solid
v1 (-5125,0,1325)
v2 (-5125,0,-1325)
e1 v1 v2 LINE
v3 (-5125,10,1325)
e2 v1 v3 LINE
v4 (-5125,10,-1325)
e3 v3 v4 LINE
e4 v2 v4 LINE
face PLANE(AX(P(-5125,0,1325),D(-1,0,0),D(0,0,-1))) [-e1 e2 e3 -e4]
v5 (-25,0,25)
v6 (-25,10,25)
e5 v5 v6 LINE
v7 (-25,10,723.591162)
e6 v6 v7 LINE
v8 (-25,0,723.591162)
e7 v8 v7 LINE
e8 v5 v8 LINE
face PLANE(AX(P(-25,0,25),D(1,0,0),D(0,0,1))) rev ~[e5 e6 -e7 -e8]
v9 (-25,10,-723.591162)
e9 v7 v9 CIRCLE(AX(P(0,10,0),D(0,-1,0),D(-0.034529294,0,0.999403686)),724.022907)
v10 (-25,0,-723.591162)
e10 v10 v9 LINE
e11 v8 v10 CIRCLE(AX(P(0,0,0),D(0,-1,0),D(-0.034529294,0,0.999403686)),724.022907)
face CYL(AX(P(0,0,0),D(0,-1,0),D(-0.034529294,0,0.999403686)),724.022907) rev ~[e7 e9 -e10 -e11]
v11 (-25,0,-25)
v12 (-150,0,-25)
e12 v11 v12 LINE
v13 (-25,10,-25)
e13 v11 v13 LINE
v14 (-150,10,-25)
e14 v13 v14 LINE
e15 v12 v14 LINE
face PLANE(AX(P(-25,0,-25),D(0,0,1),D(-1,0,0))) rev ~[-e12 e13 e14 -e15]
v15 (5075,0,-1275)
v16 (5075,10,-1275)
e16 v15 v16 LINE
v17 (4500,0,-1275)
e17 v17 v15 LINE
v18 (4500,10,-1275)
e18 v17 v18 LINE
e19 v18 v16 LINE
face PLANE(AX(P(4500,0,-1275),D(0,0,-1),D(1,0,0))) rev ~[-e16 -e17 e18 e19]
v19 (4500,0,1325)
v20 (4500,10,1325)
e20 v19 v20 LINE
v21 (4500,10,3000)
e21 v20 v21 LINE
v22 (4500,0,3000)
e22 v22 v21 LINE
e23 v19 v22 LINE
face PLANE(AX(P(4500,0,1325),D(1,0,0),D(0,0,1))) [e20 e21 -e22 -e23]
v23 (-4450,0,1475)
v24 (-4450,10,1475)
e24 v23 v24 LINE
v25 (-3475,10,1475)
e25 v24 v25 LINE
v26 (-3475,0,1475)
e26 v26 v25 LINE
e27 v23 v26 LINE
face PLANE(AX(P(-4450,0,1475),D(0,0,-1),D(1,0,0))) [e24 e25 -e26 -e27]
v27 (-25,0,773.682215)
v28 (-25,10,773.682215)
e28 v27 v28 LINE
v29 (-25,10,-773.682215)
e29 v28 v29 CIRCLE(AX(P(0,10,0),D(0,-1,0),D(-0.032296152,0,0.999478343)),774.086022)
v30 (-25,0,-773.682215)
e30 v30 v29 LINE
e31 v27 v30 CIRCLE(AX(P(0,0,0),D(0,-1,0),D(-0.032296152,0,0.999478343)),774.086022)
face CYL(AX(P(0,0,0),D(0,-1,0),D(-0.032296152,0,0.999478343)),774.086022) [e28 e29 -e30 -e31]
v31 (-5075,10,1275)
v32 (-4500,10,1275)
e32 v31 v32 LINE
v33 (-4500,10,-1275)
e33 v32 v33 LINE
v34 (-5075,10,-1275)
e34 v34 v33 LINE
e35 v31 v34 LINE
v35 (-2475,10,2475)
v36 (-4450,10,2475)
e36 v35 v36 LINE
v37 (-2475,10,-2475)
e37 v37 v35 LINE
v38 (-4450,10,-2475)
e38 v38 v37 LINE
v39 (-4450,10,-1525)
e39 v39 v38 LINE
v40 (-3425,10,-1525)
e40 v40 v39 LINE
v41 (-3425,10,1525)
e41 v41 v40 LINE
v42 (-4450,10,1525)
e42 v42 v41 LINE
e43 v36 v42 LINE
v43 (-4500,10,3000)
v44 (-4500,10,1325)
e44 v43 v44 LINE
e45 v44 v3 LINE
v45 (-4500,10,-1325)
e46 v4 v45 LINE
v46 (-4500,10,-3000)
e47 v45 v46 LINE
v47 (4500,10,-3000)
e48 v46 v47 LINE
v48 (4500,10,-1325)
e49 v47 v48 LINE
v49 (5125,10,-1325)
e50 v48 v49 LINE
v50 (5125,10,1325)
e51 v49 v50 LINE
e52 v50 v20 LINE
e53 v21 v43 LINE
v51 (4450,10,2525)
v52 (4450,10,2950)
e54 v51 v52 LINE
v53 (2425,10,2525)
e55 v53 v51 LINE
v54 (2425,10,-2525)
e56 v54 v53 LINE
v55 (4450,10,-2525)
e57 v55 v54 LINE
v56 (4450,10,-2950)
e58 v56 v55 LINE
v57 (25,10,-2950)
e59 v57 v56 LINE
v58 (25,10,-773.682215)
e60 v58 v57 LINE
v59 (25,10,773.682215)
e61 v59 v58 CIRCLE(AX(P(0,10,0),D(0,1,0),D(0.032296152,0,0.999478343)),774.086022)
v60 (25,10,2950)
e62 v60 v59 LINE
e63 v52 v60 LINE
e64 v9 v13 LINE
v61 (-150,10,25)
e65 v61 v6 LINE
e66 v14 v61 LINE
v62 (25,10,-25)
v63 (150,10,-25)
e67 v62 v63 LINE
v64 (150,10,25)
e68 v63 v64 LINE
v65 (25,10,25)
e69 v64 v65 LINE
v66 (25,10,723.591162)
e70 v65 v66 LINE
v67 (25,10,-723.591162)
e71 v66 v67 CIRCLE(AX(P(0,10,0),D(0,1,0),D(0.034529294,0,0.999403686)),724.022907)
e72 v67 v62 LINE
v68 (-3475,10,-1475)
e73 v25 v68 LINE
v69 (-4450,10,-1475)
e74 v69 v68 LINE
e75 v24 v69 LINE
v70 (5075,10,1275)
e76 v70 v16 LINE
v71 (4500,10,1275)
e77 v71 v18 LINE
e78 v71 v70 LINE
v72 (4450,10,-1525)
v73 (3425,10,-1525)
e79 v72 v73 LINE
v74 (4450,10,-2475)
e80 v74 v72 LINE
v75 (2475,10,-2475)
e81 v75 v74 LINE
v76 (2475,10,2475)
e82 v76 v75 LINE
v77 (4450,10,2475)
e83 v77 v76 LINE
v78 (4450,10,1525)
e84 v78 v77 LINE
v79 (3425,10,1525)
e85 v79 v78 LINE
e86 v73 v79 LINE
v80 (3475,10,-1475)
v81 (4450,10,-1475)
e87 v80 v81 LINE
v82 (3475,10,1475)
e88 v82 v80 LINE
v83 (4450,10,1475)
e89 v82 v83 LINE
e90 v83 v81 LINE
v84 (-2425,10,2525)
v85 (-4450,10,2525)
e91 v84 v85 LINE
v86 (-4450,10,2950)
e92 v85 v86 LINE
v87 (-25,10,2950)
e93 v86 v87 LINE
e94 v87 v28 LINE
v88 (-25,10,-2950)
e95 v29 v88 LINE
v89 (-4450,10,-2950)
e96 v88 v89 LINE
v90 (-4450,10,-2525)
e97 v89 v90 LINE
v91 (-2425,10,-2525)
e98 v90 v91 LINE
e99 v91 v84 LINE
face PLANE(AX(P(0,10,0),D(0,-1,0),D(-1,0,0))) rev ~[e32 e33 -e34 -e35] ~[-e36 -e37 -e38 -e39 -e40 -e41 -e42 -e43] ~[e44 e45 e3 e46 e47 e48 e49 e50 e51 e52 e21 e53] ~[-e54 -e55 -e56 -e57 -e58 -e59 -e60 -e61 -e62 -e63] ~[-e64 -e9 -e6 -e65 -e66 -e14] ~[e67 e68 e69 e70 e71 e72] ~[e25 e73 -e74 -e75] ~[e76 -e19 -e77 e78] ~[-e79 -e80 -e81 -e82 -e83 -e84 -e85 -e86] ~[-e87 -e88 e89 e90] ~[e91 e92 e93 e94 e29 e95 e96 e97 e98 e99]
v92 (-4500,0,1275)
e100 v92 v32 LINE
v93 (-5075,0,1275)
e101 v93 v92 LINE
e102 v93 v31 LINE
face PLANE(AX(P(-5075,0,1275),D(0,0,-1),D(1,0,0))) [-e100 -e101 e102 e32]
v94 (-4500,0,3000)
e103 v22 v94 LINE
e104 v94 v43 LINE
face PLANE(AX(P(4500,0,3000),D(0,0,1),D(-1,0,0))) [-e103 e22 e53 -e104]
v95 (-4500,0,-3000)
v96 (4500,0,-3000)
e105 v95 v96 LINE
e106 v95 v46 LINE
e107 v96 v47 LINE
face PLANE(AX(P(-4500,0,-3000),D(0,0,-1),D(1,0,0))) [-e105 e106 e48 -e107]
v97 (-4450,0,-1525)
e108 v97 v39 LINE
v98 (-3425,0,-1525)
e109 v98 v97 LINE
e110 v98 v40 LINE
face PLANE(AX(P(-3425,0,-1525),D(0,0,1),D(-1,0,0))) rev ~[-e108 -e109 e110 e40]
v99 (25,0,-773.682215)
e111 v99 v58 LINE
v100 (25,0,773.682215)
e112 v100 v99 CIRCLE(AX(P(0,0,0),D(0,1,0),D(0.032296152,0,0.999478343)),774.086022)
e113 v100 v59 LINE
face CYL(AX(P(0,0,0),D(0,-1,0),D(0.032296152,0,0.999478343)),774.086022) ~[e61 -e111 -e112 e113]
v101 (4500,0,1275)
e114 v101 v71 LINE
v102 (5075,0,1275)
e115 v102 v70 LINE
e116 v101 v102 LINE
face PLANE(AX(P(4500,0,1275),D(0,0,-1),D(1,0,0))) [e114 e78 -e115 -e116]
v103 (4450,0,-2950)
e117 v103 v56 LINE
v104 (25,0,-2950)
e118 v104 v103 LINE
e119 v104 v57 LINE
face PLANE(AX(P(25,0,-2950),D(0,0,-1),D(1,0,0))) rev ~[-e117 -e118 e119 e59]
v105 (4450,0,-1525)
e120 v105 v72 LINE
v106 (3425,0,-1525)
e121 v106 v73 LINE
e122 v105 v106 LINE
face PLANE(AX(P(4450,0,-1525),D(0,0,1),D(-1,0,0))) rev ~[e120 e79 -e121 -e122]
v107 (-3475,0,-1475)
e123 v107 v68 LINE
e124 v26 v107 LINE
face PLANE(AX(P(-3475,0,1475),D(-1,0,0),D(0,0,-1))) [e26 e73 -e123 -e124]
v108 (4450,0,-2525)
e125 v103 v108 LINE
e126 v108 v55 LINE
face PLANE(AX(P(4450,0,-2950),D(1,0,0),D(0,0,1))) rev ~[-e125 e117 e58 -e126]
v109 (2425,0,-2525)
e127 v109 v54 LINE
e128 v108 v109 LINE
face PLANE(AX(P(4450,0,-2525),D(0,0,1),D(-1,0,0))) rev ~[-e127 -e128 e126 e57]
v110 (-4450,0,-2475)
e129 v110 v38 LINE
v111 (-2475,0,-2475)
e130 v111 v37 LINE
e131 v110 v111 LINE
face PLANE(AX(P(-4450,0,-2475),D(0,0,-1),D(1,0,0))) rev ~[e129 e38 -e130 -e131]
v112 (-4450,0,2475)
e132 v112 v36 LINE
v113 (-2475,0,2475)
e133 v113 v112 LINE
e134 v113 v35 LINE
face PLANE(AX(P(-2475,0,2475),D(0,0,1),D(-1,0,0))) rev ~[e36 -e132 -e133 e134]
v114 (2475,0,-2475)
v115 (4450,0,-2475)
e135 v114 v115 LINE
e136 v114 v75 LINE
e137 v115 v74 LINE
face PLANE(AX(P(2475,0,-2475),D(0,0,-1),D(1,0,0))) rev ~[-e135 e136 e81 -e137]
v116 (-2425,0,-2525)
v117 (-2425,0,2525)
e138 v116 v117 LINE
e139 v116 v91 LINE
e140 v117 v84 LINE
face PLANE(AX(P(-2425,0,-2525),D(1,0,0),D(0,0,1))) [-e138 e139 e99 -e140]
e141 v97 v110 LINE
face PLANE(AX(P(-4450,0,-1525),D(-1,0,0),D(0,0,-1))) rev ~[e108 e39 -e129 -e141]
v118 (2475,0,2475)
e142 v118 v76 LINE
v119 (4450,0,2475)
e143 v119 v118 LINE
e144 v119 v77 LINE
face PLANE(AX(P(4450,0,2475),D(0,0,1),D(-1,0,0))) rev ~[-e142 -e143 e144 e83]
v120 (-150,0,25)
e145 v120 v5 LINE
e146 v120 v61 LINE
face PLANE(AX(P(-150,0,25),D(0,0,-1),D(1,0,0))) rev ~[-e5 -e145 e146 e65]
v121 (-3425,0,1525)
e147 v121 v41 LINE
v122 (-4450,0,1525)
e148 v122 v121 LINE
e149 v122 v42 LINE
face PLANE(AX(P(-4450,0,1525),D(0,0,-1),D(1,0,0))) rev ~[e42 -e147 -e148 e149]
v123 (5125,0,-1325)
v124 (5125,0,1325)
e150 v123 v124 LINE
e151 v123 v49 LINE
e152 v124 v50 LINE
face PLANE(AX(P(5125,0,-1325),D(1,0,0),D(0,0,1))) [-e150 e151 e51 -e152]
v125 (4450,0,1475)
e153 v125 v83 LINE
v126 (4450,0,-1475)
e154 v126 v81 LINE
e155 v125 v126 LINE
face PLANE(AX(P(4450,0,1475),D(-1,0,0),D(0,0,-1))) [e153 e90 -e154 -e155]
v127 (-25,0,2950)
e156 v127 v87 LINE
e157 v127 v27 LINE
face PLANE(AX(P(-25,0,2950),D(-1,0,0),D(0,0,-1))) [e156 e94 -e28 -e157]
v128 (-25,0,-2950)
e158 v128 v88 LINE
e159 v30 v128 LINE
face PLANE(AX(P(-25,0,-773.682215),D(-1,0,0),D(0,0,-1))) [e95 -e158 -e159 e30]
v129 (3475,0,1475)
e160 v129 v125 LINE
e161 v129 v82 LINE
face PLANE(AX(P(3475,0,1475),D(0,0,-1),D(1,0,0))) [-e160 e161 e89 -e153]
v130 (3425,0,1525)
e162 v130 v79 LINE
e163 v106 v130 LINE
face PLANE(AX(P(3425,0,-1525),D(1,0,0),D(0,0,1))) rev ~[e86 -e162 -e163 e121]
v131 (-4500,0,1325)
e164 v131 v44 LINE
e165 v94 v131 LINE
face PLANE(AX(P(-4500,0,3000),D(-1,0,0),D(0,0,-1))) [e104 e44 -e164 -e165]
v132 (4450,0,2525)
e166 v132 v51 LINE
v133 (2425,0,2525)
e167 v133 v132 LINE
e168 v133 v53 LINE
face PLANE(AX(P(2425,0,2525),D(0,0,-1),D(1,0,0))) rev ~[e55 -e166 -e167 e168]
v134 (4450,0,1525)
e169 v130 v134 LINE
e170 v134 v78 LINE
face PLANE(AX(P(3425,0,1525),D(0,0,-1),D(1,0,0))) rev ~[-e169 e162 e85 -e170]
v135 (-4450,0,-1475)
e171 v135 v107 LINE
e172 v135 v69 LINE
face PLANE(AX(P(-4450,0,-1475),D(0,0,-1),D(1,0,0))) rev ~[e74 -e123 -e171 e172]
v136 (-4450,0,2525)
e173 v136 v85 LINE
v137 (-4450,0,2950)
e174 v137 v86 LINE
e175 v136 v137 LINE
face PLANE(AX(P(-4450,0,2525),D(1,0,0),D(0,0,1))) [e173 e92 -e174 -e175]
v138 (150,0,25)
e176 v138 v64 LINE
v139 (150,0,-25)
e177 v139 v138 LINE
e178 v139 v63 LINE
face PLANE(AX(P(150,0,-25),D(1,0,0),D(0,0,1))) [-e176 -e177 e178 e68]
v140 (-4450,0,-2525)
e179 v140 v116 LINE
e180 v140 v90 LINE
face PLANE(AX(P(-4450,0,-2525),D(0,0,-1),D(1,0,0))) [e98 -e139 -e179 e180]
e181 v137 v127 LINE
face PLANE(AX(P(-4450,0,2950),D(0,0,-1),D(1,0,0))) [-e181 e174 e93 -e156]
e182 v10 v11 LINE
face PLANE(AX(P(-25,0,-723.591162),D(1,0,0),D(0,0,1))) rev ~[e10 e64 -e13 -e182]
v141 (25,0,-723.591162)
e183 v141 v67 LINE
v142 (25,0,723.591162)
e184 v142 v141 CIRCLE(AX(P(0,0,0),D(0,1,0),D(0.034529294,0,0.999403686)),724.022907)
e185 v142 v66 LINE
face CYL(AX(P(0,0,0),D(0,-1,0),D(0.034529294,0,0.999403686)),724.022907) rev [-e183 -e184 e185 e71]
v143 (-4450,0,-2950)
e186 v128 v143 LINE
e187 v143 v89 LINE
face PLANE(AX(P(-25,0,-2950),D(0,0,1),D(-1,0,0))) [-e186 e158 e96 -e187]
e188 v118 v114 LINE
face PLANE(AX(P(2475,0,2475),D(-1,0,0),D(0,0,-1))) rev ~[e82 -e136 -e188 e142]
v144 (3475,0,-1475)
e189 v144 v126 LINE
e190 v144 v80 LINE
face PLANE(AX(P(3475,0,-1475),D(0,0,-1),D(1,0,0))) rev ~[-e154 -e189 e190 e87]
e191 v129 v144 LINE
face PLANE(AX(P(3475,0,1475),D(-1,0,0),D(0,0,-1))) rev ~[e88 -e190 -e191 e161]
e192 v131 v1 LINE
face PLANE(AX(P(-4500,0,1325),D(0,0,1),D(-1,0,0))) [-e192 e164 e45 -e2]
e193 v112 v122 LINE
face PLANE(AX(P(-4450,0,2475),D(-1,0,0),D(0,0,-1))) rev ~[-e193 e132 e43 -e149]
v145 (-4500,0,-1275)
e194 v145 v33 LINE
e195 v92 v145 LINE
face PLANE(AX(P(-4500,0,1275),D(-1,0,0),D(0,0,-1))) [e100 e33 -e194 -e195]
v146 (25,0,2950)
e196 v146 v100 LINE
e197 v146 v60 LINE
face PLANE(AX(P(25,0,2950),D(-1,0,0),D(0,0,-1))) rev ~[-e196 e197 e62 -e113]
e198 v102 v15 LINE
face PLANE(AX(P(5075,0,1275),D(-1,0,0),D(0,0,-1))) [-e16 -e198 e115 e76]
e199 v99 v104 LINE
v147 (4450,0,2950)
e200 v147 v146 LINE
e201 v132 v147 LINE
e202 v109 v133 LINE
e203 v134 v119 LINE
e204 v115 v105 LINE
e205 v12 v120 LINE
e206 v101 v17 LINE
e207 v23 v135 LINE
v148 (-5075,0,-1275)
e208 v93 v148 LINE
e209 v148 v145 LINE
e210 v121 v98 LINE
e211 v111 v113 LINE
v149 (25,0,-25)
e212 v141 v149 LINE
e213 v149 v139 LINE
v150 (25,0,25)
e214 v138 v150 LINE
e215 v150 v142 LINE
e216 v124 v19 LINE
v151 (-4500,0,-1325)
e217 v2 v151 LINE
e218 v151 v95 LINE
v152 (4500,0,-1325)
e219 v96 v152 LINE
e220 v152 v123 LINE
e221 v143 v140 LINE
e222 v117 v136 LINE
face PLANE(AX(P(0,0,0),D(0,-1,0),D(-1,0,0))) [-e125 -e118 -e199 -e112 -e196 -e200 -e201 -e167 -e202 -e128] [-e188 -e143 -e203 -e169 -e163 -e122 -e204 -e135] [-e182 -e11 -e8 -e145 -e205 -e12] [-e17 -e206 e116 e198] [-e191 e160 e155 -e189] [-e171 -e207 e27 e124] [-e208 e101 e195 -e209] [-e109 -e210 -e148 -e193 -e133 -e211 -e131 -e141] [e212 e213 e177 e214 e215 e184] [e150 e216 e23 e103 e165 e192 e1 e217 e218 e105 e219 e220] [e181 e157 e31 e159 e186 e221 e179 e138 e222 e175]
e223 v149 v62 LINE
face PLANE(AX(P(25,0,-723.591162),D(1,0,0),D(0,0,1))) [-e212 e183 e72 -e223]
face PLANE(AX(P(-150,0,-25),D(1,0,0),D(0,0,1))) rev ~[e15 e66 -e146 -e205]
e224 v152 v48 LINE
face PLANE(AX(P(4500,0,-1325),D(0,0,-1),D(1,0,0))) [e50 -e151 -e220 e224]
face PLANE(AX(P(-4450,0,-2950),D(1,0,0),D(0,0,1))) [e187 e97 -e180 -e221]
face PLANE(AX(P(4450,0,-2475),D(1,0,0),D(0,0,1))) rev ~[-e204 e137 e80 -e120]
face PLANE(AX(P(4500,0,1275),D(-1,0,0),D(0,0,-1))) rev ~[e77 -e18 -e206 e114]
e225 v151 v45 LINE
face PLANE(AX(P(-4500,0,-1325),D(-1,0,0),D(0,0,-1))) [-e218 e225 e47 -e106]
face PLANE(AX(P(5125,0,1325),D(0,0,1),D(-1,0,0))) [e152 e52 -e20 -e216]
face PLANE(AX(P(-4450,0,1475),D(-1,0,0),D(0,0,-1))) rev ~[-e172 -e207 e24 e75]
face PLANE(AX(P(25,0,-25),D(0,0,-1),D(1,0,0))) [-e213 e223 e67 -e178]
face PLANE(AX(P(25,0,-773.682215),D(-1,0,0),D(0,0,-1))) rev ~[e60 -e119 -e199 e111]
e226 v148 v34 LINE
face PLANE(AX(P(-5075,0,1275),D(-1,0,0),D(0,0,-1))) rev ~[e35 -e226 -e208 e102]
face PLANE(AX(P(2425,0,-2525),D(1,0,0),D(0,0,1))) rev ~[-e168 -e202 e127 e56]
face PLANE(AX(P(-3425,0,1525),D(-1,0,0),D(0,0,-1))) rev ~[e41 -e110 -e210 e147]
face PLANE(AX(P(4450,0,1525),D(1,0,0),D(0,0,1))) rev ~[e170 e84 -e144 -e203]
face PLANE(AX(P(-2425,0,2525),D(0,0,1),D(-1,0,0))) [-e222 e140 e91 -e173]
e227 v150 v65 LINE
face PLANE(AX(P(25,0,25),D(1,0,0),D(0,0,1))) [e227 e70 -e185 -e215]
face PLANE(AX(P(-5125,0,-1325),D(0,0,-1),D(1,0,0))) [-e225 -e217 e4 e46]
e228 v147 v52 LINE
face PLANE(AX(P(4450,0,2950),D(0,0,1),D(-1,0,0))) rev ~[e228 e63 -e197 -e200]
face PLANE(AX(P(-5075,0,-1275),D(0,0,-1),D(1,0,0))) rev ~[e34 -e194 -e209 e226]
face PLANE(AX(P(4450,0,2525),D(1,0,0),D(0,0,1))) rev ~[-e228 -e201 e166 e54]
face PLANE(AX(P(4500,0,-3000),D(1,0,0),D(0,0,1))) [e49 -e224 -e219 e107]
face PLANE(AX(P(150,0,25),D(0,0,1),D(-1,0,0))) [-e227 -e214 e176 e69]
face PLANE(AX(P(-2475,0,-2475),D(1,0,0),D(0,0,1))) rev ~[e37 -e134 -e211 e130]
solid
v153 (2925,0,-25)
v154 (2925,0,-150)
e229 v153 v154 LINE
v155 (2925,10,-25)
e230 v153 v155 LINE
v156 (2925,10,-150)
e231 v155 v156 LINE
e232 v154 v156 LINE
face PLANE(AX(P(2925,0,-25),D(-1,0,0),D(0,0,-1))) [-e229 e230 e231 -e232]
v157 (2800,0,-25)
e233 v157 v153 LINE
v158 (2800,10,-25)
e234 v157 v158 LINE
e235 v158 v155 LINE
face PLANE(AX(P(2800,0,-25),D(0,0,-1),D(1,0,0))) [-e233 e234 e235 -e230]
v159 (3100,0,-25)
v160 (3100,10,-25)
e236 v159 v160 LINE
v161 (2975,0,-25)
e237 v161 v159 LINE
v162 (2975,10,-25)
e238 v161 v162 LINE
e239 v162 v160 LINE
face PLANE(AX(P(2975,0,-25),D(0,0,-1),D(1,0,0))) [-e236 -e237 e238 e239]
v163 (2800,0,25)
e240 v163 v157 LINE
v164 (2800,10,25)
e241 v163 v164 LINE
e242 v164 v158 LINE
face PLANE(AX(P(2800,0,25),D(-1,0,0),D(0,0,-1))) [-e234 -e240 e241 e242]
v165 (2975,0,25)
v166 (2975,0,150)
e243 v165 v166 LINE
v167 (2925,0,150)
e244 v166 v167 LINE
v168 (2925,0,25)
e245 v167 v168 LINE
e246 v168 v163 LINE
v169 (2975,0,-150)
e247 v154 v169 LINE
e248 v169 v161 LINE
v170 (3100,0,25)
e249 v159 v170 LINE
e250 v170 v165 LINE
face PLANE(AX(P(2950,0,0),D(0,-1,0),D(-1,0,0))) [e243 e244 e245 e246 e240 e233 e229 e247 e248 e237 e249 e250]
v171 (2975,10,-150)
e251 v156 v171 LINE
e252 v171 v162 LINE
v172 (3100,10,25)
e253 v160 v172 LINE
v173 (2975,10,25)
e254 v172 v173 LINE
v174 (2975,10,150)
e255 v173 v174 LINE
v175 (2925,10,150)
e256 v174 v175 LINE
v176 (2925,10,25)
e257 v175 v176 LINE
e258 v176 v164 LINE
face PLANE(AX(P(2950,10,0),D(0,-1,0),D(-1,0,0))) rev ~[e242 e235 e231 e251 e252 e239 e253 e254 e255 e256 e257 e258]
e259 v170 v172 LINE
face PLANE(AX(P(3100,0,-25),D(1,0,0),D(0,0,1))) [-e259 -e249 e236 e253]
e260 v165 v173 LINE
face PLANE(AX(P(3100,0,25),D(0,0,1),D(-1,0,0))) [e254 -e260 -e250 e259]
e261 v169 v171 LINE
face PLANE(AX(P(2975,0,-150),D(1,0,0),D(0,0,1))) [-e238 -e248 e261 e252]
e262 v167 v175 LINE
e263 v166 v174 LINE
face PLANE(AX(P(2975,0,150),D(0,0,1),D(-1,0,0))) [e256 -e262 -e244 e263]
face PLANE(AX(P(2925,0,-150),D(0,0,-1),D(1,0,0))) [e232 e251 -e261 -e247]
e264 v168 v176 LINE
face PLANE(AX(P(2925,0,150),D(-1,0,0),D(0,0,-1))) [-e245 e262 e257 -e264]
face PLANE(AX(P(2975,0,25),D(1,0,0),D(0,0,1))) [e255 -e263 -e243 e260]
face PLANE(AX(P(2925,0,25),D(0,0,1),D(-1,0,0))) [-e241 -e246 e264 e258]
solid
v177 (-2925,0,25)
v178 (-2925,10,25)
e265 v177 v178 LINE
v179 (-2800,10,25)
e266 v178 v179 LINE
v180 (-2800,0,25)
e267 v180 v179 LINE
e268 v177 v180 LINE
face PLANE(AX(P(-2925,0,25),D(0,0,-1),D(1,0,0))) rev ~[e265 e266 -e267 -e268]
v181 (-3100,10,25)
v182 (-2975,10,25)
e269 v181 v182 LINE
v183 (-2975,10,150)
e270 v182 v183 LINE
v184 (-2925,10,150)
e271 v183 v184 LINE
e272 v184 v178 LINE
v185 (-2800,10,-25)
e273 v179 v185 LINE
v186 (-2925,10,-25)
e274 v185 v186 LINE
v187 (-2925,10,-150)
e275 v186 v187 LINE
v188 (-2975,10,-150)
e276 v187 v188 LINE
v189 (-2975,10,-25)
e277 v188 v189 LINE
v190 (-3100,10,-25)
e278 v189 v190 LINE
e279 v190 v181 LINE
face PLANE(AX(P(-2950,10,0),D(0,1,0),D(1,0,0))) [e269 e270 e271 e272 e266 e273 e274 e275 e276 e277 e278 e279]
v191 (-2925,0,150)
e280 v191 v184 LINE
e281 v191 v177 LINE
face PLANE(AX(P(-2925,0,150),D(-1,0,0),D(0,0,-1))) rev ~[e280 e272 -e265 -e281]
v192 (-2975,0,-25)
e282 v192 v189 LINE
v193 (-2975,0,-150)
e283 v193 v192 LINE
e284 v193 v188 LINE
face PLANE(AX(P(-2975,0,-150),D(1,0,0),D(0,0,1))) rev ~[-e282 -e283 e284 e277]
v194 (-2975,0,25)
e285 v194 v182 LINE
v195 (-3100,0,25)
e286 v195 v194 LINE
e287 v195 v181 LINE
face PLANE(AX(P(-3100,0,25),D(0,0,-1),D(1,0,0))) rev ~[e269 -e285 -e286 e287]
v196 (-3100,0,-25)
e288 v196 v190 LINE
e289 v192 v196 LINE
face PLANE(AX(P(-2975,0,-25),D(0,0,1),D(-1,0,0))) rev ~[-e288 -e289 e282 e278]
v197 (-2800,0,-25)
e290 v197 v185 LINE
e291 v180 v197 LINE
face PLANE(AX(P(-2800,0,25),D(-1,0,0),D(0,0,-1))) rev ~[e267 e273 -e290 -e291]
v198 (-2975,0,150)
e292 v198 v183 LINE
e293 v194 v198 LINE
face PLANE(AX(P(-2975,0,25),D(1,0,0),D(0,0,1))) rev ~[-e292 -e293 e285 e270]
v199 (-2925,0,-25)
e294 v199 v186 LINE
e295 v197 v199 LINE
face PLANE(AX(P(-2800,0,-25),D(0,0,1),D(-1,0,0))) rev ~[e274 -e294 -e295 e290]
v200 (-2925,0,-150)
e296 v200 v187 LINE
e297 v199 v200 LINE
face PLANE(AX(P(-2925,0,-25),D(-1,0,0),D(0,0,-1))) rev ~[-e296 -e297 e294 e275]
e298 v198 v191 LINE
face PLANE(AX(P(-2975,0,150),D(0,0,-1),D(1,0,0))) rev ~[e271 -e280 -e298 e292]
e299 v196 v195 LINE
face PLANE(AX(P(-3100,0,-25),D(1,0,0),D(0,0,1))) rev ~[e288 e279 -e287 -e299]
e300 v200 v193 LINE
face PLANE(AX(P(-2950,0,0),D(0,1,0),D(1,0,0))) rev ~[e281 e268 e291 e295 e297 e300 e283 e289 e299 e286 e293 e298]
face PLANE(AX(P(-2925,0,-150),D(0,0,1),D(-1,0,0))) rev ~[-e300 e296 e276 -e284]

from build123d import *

# Parameters (mm, degrees)
SKETCH1_W             = 975
SKETCH1_H             = 2950
SKETCH1_W_2           = 575
SKETCH1_H_2           = 2550
BOSS_EXTRUDE2_DEPTH   = 10
BOSS_EXTRUDE2_2_DEPTH = 10
BOSS_EXTRUDE2_3_DEPTH = 10


with BuildPart() as part:
    # Sketch1 → Boss-Extrude2 (new body)
    with BuildSketch(Plane(origin=(0, 0, 0), x_dir=(1, 0, 0), z_dir=(0, 1, 0))):
        Polygon((-4500, 3000), (4500, 3000), (4500, 1325), (5125, 1325), (5125, -1325), (4500, -1325), (4500, -3000), (-4500, -3000), (-4500, -1325), (-5125, -1325), (-5125, 1325), (-4500, 1325), align=None)
        with BuildLine():
            Line((-4450, 2950), (-4450, 2525))
            Line((-4450, 2525), (-2425, 2525))
            Line((-2425, 2525), (-2425, -2525))
            Line((-2425, -2525), (-4450, -2525))
            Line((-4450, -2525), (-4450, -2950))
            Line((-4450, -2950), (-25, -2950))
            Line((-25, -2950), (-25, -773.682215065))
            ThreePointArc((-25, -773.682215065), (-774.086022292, 0), (-25, 773.682215065))
            Line((-25, 773.682215065), (-25, 2950))
            Line((-25, 2950), (-4450, 2950))
        make_face(mode=Mode.SUBTRACT)
        with BuildLine():
            Line((4450, 2950), (4450, 2525))
            Line((4450, 2525), (2425, 2525))
            Line((2425, 2525), (2425, -2525))
            Line((2425, -2525), (4450, -2525))
            Line((4450, -2525), (4450, -2950))
            Line((4450, -2950), (25, -2950))
            Line((25, -2950), (25, -773.682215065))
            ThreePointArc((25, -773.682215065), (774.086022292, 0), (25, 773.682215065))
            Line((25, 773.682215065), (25, 2950))
            Line((25, 2950), (4450, 2950))
        make_face(mode=Mode.SUBTRACT)
        with BuildLine():
            Line((-25, 723.591162127), (-25, 25))
            Line((-25, 25), (-150, 25))
            Line((-150, 25), (-150, -25))
            Line((-150, -25), (-25, -25))
            Line((-25, -25), (-25, -723.591162127))
            ThreePointArc((-25, -723.591162127), (-724.022907033, 0), (-25, 723.591162127))
        make_face(mode=Mode.SUBTRACT)
        with BuildLine():
            Line((25, 723.591162127), (25, 25))
            Line((25, 25), (150, 25))
            Line((150, 25), (150, -25))
            Line((150, -25), (25, -25))
            Line((25, -25), (25, -723.591162127))
            ThreePointArc((25, -723.591162127), (724.022907033, 0), (25, 723.591162127))
        make_face(mode=Mode.SUBTRACT)
        with Locations((-3962.5, 0)):
            Rectangle(SKETCH1_W, SKETCH1_H, mode=Mode.SUBTRACT)
        Polygon((-4450, 2475), (-2475, 2475), (-2475, -2475), (-4450, -2475), (-4450, -1525), (-3425, -1525), (-3425, 1525), (-4450, 1525), align=None, mode=Mode.SUBTRACT)
        with Locations((-4787.5, 0)):
            Rectangle(SKETCH1_W_2, SKETCH1_H_2, mode=Mode.SUBTRACT)
        with Locations((4787.5, 0)):
            Rectangle(SKETCH1_W_2, SKETCH1_H_2, mode=Mode.SUBTRACT)
        Polygon((3425, -1525), (4450, -1525), (4450, -2475), (2475, -2475), (2475, 2475), (4450, 2475), (4450, 1525), (3425, 1525), align=None, mode=Mode.SUBTRACT)
        with Locations((3962.5, 0)):
            Rectangle(SKETCH1_W, SKETCH1_H, mode=Mode.SUBTRACT)
    extrude(amount=BOSS_EXTRUDE2_DEPTH)


with BuildPart() as body_2:
    # Sketch1 → Boss-Extrude2 2 (new body)
    with BuildSketch(Plane(origin=(0, 0, 0), x_dir=(1, 0, 0), z_dir=(0, 1, 0))):
        Polygon((-2975, 150), (-2975, 25), (-3100, 25), (-3100, -25), (-2975, -25), (-2975, -150), (-2925, -150), (-2925, -25), (-2800, -25), (-2800, 25), (-2925, 25), (-2925, 150), align=None)
    extrude(amount=BOSS_EXTRUDE2_2_DEPTH)


with BuildPart() as body_3:
    # Sketch1 → Boss-Extrude2 3 (new body)
    with BuildSketch(Plane(origin=(0, 0, 0), x_dir=(1, 0, 0), z_dir=(0, 1, 0))):
        Polygon((2925, -25), (2800, -25), (2800, 25), (2925, 25), (2925, 150), (2975, 150), (2975, 25), (3100, 25), (3100, -25), (2975, -25), (2975, -150), (2925, -150), align=None)
    extrude(amount=BOSS_EXTRUDE2_3_DEPTH)


solid = Compound([part.part, body_2.part, body_3.part])
